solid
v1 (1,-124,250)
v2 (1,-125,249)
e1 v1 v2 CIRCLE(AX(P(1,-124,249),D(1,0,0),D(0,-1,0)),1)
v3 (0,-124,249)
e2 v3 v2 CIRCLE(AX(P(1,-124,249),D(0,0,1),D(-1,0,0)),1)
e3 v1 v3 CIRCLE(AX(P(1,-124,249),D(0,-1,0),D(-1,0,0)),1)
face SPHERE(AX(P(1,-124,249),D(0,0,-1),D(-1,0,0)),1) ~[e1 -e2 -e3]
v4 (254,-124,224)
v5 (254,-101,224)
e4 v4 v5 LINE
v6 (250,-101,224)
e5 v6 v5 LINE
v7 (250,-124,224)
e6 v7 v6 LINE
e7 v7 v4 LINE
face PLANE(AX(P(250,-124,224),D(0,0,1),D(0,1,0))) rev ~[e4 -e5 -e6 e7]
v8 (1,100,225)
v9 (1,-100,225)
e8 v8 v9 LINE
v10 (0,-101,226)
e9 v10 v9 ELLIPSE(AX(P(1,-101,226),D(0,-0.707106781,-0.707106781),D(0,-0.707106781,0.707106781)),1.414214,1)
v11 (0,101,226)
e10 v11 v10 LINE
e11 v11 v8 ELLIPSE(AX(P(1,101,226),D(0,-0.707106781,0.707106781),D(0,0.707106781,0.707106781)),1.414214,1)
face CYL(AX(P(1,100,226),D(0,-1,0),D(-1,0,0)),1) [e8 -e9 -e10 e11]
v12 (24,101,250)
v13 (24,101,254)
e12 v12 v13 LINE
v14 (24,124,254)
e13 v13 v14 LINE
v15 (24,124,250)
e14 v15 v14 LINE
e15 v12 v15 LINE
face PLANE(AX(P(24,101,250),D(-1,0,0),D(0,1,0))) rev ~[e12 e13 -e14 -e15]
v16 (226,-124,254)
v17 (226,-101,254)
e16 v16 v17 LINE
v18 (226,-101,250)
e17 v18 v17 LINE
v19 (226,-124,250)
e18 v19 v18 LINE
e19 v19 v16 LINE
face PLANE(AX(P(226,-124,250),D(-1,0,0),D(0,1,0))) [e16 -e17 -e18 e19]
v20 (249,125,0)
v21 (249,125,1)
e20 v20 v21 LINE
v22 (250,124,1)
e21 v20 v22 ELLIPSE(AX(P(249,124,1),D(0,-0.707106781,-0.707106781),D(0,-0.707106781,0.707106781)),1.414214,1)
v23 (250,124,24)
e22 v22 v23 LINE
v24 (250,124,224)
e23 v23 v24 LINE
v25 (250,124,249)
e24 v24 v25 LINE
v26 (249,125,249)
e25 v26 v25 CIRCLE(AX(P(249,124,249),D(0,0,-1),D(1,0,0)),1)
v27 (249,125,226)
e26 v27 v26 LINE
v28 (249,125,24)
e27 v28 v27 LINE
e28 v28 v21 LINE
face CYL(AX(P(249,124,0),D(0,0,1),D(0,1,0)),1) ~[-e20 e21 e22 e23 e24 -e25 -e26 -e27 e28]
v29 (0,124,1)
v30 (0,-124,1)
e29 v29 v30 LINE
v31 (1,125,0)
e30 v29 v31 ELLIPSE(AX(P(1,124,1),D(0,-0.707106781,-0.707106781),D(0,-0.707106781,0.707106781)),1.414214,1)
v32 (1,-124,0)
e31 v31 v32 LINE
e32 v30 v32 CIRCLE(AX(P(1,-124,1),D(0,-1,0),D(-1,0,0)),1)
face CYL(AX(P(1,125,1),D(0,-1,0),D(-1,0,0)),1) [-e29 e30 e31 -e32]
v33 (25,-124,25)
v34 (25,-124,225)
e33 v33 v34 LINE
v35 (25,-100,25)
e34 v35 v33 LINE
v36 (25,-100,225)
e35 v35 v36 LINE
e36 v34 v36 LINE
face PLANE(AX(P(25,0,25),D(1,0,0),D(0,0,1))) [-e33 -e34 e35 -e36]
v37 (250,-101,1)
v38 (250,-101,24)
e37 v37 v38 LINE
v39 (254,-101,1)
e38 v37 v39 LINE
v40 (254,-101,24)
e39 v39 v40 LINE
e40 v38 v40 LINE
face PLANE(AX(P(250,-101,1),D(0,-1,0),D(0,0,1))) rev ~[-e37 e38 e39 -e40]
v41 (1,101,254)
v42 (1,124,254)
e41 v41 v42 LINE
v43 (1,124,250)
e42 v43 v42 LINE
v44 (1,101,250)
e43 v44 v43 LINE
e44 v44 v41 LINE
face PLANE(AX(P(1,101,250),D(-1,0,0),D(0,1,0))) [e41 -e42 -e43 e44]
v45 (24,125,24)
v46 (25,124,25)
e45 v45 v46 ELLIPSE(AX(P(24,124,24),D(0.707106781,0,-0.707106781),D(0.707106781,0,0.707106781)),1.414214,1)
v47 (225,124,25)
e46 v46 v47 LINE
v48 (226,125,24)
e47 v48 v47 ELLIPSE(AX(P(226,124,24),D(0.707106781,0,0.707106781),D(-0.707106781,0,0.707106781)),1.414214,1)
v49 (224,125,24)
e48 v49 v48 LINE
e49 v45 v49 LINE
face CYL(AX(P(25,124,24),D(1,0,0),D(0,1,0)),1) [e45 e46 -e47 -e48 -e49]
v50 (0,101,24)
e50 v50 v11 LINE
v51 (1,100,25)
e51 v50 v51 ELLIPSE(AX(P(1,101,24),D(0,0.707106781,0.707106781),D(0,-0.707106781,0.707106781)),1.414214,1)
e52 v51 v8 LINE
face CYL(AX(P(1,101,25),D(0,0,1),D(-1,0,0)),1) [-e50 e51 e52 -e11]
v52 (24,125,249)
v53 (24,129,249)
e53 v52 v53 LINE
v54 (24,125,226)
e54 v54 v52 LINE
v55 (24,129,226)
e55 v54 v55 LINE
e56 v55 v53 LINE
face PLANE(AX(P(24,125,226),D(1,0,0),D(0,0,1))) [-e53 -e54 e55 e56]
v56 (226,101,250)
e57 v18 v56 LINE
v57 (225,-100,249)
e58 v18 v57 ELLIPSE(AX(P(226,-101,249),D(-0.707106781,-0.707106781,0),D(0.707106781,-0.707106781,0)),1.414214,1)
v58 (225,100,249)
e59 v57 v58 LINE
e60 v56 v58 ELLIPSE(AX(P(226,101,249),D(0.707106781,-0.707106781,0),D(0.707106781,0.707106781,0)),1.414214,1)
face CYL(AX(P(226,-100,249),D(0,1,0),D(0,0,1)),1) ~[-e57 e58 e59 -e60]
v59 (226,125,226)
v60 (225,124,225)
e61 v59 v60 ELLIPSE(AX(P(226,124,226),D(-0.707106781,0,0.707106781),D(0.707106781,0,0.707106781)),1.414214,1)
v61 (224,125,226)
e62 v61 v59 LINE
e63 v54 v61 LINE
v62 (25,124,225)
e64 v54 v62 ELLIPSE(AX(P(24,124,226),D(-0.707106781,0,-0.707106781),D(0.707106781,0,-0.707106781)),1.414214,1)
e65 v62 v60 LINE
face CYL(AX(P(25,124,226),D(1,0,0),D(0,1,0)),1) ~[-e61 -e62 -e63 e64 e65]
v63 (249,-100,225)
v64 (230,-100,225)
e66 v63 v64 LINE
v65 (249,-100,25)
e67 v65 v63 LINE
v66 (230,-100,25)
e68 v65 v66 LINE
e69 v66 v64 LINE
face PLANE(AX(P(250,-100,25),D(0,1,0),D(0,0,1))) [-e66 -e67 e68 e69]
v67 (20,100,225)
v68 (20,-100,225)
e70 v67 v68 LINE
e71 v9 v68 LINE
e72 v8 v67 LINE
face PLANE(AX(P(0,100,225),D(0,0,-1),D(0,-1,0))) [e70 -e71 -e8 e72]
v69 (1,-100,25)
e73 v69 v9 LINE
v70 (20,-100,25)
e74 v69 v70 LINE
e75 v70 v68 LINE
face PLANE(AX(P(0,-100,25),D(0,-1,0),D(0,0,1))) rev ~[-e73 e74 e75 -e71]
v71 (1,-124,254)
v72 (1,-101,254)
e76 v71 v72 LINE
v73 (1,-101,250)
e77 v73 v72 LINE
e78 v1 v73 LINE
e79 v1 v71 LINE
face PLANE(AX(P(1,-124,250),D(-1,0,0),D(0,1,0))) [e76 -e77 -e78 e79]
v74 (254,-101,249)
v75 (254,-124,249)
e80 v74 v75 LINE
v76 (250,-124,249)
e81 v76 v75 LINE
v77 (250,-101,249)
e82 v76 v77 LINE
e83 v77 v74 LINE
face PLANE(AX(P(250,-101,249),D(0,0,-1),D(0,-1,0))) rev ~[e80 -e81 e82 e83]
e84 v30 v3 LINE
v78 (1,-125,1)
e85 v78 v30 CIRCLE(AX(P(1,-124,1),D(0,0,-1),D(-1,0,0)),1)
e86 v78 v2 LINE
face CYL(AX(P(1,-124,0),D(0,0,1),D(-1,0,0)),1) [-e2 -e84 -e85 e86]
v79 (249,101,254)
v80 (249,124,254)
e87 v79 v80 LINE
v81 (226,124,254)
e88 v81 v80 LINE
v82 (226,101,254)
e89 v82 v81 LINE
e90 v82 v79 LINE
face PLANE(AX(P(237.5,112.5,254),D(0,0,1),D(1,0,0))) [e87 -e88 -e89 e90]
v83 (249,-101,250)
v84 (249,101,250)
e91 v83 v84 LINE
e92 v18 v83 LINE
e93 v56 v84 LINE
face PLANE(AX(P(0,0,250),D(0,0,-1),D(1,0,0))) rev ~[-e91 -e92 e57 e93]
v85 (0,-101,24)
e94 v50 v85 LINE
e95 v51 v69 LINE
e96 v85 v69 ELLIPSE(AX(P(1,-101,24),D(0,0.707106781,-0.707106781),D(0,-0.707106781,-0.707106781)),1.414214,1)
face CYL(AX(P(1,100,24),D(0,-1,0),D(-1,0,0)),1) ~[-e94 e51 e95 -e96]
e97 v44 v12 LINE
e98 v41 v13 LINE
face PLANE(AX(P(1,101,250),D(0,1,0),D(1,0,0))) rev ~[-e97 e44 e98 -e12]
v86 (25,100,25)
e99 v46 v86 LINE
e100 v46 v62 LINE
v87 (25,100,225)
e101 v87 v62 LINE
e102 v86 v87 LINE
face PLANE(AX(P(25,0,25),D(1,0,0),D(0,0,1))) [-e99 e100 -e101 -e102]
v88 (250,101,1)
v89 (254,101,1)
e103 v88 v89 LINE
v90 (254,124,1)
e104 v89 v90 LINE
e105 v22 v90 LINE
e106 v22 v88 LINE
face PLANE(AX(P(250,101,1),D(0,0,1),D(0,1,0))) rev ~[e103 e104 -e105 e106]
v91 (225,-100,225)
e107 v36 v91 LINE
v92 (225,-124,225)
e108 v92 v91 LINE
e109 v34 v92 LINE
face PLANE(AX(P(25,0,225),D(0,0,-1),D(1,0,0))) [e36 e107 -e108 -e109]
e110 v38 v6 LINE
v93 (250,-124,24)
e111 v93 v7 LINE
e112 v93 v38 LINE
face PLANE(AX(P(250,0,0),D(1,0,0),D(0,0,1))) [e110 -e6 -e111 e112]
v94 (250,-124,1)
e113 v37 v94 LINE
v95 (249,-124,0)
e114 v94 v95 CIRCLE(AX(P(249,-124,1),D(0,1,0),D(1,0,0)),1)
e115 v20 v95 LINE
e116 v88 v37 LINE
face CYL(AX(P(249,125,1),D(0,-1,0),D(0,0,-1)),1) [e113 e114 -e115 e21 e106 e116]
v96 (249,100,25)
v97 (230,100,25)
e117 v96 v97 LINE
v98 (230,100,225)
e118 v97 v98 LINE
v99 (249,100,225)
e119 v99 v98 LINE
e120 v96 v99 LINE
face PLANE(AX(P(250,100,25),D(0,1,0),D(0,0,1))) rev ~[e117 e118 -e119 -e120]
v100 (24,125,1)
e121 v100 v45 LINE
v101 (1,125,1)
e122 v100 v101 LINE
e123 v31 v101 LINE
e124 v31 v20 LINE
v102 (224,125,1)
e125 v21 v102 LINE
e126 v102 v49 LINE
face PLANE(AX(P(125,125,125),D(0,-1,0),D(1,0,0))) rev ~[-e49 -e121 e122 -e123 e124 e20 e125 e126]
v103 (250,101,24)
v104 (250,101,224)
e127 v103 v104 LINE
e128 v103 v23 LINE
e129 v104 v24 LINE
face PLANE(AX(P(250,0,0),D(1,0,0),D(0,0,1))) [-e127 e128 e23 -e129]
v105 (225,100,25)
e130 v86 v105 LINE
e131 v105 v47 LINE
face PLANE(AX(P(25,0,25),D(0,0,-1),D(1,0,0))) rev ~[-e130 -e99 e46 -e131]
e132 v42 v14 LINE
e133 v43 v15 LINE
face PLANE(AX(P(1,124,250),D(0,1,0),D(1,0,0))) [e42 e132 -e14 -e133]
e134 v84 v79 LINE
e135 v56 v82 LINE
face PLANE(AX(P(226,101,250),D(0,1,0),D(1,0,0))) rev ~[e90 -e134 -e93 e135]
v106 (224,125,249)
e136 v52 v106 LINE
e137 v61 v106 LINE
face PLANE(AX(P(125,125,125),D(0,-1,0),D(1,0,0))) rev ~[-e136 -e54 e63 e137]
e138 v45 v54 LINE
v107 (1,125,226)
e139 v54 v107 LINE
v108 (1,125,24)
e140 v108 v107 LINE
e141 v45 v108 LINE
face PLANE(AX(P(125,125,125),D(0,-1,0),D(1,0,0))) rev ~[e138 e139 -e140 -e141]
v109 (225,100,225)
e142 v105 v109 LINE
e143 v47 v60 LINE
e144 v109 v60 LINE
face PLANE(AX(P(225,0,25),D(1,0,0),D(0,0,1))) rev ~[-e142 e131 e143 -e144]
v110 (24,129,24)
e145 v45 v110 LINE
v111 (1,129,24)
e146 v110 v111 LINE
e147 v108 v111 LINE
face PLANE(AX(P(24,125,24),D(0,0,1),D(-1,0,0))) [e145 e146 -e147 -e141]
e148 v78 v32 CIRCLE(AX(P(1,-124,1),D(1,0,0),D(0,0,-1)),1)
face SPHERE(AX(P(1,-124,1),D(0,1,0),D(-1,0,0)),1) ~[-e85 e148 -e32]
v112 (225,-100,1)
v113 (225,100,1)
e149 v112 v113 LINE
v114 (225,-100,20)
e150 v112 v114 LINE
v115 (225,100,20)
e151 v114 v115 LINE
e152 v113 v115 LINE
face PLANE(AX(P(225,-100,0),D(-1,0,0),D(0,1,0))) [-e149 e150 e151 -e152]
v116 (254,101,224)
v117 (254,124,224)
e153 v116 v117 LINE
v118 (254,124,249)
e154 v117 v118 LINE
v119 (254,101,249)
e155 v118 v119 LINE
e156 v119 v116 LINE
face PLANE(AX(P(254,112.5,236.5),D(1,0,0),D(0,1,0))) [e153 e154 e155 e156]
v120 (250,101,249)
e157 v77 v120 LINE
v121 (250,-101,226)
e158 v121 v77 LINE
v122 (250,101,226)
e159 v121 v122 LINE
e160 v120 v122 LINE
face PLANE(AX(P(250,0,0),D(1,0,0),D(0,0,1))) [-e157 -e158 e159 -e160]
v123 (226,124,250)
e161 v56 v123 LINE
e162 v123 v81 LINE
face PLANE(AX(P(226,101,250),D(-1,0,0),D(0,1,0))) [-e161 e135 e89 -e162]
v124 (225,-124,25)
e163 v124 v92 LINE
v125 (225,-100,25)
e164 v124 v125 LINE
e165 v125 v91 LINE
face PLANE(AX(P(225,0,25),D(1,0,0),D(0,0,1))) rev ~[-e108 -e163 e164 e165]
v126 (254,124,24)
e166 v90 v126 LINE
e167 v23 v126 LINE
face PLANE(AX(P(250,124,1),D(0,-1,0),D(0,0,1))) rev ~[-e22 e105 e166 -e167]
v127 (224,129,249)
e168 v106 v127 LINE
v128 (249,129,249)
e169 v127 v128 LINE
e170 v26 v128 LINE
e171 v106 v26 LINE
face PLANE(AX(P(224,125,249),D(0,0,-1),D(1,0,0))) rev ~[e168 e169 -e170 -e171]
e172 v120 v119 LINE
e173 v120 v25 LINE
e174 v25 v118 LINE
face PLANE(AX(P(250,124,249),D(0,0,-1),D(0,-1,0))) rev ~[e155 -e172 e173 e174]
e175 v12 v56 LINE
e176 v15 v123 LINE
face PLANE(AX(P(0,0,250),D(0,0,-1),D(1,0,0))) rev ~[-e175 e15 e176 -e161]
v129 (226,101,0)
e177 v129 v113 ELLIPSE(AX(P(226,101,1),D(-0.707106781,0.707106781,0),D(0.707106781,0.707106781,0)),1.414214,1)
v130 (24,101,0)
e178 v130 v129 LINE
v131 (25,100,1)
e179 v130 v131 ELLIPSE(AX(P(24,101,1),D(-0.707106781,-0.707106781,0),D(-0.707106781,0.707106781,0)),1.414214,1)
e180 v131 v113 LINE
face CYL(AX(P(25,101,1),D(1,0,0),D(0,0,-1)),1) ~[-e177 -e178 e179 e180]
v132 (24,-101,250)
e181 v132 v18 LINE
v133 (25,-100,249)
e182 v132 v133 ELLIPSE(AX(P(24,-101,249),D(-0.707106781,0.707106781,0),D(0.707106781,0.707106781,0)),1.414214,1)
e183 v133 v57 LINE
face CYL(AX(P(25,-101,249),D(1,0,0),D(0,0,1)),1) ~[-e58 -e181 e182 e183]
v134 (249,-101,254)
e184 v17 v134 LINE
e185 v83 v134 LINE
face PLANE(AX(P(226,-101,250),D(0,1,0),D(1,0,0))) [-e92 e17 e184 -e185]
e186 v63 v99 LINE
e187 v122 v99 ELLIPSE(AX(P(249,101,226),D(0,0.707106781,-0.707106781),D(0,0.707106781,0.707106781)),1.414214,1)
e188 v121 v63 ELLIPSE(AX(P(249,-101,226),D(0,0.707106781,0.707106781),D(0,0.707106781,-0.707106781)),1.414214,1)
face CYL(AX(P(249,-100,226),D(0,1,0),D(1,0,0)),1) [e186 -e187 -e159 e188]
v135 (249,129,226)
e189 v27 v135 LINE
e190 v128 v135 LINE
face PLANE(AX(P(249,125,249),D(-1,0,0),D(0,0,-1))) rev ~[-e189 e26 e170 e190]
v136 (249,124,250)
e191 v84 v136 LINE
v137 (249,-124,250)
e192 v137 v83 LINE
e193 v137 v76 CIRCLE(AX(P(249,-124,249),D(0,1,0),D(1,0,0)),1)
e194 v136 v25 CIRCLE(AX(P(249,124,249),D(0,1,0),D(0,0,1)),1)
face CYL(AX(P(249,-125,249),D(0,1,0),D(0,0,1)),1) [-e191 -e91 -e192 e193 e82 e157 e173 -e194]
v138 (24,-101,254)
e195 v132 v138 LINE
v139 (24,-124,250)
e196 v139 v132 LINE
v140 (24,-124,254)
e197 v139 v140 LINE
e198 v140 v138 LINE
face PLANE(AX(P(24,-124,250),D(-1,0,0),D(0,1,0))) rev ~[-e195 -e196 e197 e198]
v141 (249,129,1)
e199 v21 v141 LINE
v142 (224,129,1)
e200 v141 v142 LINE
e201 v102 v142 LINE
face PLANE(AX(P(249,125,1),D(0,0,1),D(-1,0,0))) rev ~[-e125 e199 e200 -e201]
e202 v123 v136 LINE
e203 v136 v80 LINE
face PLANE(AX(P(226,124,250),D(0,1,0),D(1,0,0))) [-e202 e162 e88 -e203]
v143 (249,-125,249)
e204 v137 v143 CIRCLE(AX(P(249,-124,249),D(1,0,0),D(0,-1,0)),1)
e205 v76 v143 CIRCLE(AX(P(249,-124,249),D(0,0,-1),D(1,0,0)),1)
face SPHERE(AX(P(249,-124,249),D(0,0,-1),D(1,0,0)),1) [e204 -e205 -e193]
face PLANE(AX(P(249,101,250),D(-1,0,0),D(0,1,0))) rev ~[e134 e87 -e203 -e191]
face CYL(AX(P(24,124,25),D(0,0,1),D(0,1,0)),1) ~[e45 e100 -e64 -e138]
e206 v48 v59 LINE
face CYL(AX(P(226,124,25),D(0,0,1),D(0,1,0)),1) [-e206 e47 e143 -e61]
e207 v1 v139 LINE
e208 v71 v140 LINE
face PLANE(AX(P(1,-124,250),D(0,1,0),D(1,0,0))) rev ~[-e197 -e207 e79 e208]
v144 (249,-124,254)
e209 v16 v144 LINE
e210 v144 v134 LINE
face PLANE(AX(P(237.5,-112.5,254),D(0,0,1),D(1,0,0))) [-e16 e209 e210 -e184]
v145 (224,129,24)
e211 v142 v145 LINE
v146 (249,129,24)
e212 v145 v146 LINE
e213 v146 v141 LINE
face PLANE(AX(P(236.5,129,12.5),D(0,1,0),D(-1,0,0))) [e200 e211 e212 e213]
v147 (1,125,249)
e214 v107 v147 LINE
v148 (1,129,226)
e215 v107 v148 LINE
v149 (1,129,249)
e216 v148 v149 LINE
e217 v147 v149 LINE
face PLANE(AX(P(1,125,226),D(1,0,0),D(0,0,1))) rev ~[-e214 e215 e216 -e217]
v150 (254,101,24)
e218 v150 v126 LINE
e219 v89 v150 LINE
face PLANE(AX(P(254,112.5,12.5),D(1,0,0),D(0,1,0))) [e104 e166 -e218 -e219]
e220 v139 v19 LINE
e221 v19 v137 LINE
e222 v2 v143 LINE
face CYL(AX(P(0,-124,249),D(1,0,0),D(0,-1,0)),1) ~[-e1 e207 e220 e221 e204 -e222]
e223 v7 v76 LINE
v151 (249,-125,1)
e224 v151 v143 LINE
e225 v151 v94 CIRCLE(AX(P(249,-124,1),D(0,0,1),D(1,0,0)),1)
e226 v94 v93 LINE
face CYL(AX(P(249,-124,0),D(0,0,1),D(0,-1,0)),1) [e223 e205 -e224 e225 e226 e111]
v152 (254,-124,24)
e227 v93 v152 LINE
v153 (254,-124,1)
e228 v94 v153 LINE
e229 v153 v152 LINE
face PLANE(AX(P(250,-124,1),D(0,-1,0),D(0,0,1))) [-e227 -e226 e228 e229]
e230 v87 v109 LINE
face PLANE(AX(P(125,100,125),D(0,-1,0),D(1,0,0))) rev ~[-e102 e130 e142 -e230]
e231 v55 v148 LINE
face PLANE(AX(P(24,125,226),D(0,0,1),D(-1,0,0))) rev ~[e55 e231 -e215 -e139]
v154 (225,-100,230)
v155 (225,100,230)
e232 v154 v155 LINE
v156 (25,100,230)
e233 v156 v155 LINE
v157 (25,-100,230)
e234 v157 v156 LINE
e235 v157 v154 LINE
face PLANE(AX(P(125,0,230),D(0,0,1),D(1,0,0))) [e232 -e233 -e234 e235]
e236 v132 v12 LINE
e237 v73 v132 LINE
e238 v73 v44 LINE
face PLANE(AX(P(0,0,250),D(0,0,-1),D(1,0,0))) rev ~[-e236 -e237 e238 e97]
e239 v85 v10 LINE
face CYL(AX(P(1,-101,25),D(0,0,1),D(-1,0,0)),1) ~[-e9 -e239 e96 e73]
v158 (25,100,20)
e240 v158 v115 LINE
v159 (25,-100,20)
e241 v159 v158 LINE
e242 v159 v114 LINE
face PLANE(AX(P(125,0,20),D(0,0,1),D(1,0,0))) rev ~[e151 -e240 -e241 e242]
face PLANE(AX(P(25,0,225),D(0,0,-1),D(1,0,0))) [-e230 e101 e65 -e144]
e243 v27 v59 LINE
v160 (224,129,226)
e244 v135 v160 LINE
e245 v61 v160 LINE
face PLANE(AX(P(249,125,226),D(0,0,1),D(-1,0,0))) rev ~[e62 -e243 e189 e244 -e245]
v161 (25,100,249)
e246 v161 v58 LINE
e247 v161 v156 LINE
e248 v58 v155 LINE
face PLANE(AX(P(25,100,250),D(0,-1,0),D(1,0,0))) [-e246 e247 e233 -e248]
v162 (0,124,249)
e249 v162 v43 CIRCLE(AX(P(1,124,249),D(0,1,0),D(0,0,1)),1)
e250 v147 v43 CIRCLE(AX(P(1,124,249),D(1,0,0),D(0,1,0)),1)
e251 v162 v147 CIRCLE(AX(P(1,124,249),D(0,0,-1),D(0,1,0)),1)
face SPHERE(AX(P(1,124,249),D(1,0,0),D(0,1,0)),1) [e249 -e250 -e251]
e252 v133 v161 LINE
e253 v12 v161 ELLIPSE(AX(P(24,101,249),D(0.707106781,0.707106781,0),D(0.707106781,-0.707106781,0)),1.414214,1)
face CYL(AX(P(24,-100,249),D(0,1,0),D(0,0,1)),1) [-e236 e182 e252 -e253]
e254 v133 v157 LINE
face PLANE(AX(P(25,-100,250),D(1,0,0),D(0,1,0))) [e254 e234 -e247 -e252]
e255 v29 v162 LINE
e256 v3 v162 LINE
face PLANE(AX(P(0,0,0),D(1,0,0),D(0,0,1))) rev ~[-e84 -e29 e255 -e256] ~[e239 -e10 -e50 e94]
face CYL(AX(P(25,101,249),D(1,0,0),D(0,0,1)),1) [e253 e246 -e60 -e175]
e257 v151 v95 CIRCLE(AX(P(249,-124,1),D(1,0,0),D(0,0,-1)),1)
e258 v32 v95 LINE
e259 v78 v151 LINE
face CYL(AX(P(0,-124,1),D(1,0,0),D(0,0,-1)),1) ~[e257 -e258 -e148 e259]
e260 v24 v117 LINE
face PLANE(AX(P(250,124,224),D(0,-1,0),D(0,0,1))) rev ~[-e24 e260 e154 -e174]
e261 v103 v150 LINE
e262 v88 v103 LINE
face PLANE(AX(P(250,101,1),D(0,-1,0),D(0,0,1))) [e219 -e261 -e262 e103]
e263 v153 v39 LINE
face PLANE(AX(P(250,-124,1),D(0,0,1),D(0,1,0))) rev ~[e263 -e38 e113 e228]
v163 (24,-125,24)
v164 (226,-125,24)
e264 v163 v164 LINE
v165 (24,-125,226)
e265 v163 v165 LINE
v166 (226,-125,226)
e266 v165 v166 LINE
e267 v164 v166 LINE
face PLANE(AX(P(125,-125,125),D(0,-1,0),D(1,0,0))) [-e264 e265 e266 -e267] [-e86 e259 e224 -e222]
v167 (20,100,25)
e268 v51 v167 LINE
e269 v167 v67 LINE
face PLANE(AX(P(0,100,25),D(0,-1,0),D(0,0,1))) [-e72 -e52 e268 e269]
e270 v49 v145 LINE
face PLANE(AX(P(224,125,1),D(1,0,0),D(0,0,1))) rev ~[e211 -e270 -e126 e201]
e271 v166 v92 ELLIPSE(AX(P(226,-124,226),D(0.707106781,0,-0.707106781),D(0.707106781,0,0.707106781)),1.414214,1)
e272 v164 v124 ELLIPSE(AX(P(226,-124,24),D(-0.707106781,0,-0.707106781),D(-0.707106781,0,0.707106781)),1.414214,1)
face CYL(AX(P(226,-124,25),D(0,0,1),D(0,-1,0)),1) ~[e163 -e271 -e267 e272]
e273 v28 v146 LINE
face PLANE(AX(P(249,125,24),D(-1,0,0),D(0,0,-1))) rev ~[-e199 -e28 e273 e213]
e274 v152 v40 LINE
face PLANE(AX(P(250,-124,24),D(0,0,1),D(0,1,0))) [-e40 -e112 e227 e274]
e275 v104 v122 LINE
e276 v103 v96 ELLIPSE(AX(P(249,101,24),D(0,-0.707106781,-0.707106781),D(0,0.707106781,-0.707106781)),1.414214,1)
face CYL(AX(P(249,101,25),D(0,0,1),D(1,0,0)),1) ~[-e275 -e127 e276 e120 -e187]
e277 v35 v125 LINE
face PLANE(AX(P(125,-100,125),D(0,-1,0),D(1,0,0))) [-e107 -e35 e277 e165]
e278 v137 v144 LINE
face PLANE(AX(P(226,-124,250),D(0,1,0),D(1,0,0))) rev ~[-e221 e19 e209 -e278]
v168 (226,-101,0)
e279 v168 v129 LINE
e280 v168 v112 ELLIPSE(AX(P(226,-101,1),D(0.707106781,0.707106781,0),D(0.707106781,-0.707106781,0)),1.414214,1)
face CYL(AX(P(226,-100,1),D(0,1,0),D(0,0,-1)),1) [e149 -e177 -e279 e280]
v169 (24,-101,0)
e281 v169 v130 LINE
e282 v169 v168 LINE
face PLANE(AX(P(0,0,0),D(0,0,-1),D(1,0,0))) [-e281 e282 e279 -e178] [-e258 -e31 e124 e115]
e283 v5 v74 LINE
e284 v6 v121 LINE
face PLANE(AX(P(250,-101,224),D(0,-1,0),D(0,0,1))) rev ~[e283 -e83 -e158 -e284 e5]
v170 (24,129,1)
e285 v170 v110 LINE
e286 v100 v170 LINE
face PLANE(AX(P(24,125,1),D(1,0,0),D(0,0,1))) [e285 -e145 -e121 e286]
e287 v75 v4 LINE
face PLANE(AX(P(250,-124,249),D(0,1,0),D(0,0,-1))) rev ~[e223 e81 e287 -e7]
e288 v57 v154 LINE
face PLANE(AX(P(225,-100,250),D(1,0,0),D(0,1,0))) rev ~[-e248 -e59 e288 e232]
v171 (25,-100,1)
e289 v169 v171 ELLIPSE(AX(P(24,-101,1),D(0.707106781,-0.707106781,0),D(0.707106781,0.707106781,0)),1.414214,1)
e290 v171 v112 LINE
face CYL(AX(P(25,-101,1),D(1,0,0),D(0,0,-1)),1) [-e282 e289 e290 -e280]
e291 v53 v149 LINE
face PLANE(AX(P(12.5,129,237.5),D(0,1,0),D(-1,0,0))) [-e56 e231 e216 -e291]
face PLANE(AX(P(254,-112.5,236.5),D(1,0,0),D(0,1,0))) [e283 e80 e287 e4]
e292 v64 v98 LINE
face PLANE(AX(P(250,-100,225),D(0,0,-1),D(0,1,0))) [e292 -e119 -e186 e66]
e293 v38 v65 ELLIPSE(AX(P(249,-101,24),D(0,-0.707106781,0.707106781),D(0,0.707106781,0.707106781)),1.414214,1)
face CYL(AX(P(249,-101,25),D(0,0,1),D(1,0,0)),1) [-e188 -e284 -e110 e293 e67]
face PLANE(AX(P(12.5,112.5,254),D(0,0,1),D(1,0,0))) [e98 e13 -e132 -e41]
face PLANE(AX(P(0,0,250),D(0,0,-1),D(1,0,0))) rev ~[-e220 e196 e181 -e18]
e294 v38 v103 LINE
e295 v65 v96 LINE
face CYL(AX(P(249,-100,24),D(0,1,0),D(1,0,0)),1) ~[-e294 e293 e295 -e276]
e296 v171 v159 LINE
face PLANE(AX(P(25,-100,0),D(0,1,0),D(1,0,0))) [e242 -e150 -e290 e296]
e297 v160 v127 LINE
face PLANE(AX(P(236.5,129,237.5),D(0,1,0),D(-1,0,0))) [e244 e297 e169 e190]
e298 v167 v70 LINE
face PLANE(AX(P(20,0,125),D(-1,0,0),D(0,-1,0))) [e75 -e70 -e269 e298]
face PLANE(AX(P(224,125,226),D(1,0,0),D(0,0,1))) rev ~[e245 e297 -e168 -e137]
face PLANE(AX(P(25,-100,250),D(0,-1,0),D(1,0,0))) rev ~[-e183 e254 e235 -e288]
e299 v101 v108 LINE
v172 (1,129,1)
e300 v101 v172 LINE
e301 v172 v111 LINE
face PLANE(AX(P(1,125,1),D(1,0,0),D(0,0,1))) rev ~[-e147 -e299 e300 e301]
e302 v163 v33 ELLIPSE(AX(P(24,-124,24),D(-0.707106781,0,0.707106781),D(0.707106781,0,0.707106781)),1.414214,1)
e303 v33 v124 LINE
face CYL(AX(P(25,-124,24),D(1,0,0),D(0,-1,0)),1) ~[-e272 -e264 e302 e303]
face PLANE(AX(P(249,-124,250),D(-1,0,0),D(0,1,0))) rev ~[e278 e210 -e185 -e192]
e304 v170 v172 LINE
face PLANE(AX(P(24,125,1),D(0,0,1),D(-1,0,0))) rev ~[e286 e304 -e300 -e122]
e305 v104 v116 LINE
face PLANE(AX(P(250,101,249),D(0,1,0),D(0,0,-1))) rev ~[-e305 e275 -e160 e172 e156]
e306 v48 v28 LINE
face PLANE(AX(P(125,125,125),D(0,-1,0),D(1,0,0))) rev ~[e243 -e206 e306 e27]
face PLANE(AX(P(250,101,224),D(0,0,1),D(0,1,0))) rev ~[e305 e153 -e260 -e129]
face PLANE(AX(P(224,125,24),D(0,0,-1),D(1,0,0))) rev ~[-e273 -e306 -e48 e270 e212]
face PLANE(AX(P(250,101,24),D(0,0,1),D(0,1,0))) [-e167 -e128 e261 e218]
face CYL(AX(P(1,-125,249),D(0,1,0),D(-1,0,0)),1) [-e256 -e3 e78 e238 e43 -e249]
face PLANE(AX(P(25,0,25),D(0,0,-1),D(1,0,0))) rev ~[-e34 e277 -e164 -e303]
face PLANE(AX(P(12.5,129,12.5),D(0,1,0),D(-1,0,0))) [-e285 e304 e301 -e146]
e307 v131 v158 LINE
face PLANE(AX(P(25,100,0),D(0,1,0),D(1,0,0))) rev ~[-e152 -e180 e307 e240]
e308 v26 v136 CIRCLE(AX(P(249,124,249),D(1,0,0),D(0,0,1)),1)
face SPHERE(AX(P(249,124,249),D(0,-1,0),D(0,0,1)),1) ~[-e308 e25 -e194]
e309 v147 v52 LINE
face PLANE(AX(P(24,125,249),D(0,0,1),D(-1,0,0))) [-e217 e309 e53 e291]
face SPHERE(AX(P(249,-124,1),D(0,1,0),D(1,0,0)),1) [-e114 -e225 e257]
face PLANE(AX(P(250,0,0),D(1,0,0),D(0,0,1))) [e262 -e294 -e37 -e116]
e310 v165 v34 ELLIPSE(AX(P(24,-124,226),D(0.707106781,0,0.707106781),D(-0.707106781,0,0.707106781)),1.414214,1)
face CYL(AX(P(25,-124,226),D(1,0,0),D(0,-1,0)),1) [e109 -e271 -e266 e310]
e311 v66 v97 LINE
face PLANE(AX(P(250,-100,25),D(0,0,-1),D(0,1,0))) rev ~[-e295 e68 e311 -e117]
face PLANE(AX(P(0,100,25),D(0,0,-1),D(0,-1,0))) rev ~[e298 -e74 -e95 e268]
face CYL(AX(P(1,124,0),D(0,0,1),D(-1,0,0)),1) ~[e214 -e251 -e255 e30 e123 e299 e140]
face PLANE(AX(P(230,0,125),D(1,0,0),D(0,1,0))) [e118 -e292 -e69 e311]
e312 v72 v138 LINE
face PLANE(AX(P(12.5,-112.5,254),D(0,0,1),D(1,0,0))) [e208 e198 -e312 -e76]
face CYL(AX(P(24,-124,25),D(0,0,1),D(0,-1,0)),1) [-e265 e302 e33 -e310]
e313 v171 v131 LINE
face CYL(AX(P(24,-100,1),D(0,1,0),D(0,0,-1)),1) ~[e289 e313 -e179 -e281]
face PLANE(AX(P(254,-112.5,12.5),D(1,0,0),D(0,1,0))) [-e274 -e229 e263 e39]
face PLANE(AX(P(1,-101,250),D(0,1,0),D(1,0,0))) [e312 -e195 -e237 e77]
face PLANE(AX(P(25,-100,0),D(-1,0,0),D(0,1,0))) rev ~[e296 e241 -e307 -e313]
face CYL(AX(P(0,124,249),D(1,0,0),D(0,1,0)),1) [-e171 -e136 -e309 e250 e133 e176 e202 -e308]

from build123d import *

# Parameters (mm, degrees)
F0_W      = 250
F0_H      = 250
F0_W_2    = 200
F0_H_2    = 200
F1_DEPTH  = 125
F2_W      = 200
F2_H      = 200
F3_DEPTH  = 100
F4_W      = 200
F4_H      = 200
F5_DEPTH  = 20
F6_W      = 200
F6_H      = 200
F7_DEPTH  = 20
F8_W      = 200
F8_H      = 200
F9_DEPTH  = 20
F10_W     = 200
F10_H     = 200
F11_DEPTH = 20
F12_R     = 1
F13_W     = 23
F13_H     = 23
F14_DEPTH = 4
F15_W     = 23
F15_H     = 23
F16_DEPTH = 4
F17_W     = 23
F17_H     = 23
F18_DEPTH = 4


with BuildPart() as f1:
    # F0 (on Front) → F1 (new body, symmetric)
    with BuildSketch(Plane.XZ):
        with Locations((125, 125)):
            Rectangle(F0_W, F0_H)
        with Locations((125, 125)):
            Rectangle(F0_W_2, F0_H_2, mode=Mode.SUBTRACT)
    extrude(amount=F1_DEPTH, both=True)

    # F2 (on Front) → F3 (join, symmetric)
    with BuildSketch(Plane.XZ):
        with Locations((125, 125)):
            Rectangle(F2_W, F2_H)
    extrude(amount=F3_DEPTH, both=True)

    # F4 (on face) → F5 (cut)
    with BuildSketch(Plane(origin=(0, 0, 0), x_dir=(0, -1, 0), z_dir=(-1, 0, 0))):
        with Locations((0, 125)):
            Rectangle(F4_W, F4_H)
    extrude(amount=-F5_DEPTH, mode=Mode.SUBTRACT)

    # F6 (on face) → F7 (cut)
    with BuildSketch(Plane.YZ.offset(250)):
        with Locations((0, 125)):
            Rectangle(F6_W, F6_H)
    extrude(amount=-F7_DEPTH, mode=Mode.SUBTRACT)

    # F8 (on Top) → F9 (cut)
    with BuildSketch(Plane.XY):
        with Locations((125, 0)):
            Rectangle(F8_W, F8_H)
    extrude(amount=F9_DEPTH, mode=Mode.SUBTRACT)

    # F10 (on face) → F11 (cut)
    with BuildSketch(Plane.XY.offset(250)):
        with Locations((125, 0)):
            Rectangle(F10_W, F10_H)
    extrude(amount=-F11_DEPTH, mode=Mode.SUBTRACT)

    # F12
    f12_edges = [f1.edges().sort_by_distance(p)[0] for p in [
        (25, 0, 0),
        (125, -100, 0),
        (125, 100, 0),
        (225, 0, 0),
        (250, 0, 0),
        (250, 0, 25),
        (250, 100, 125),
        (250, 0, 225),
        (250, -100, 125),
        (250, -125, 125),
        (250, 0, 250),
        (125, 125, 250),
        (250, 125, 125),
        (225, 125, 125),
        (125, 125, 225),
        (25, 125, 125),
        (125, 125, 25),
        (0, 100, 125),
        (0, 0, 25),
        (0, 125, 125),
        (0, 0, 0),
        (0, -125, 125),
        (0, 0, 250),
        (0, 0, 225),
        (0, -100, 125),
        (125, -125, 250),
        (125, -125, 0),
        (25, -125, 125),
        (125, -125, 225),
        (225, -125, 125),
        (125, -125, 25),
        (125, 100, 250),
        (25, 0, 250),
        (125, -100, 250),
        (225, 0, 250),
    ]]
    fillet(f12_edges, radius=F12_R)

    # F13 (on face) → F14 (join)
    with BuildSketch(Plane.XY.offset(250)):
        with Locations((237.5, 112.5)):
            Rectangle(F13_W, F13_H)
        with Locations((237.5, -112.5)):
            Rectangle(F13_W, F13_H)
        with Locations((12.5, -112.5)):
            Rectangle(F13_W, F13_H)
        with Locations((12.5, 112.5)):
            Rectangle(F13_W, F13_H)
    extrude(amount=F14_DEPTH)

    # F15 (on face) → F16 (join)
    with BuildSketch(Plane.YZ.offset(250)):
        Polygon((124, 224), (124, 249), (101, 249), (101, 226), (101, 224), align=None)
        Polygon((-101, 226), (-101, 249), (-124, 249), (-124, 224), (-101, 224), align=None)
        with Locations((-112.5, 12.5)):
            Rectangle(F15_W, F15_H)
        with Locations((112.5, 12.5)):
            Rectangle(F15_W, F15_H)
    extrude(amount=F16_DEPTH)

    # F17 (on face) → F18 (join)
    with BuildSketch(Plane(origin=(0, 125, 0), x_dir=(-1, 0, 0), z_dir=(0, 1, 0))):
        with Locations((-12.5, 12.5)):
            Rectangle(F17_W, F17_H)
        Polygon((-224, 1), (-224, 24), (-226, 24), (-249, 24), (-249, 1), align=None)
        Polygon((-224, 226), (-224, 249), (-249, 249), (-249, 226), (-226, 226), align=None)
        with Locations((-12.5, 237.5)):
            Rectangle(F17_W, F17_H)
    extrude(amount=F18_DEPTH)


solid = f1.part
